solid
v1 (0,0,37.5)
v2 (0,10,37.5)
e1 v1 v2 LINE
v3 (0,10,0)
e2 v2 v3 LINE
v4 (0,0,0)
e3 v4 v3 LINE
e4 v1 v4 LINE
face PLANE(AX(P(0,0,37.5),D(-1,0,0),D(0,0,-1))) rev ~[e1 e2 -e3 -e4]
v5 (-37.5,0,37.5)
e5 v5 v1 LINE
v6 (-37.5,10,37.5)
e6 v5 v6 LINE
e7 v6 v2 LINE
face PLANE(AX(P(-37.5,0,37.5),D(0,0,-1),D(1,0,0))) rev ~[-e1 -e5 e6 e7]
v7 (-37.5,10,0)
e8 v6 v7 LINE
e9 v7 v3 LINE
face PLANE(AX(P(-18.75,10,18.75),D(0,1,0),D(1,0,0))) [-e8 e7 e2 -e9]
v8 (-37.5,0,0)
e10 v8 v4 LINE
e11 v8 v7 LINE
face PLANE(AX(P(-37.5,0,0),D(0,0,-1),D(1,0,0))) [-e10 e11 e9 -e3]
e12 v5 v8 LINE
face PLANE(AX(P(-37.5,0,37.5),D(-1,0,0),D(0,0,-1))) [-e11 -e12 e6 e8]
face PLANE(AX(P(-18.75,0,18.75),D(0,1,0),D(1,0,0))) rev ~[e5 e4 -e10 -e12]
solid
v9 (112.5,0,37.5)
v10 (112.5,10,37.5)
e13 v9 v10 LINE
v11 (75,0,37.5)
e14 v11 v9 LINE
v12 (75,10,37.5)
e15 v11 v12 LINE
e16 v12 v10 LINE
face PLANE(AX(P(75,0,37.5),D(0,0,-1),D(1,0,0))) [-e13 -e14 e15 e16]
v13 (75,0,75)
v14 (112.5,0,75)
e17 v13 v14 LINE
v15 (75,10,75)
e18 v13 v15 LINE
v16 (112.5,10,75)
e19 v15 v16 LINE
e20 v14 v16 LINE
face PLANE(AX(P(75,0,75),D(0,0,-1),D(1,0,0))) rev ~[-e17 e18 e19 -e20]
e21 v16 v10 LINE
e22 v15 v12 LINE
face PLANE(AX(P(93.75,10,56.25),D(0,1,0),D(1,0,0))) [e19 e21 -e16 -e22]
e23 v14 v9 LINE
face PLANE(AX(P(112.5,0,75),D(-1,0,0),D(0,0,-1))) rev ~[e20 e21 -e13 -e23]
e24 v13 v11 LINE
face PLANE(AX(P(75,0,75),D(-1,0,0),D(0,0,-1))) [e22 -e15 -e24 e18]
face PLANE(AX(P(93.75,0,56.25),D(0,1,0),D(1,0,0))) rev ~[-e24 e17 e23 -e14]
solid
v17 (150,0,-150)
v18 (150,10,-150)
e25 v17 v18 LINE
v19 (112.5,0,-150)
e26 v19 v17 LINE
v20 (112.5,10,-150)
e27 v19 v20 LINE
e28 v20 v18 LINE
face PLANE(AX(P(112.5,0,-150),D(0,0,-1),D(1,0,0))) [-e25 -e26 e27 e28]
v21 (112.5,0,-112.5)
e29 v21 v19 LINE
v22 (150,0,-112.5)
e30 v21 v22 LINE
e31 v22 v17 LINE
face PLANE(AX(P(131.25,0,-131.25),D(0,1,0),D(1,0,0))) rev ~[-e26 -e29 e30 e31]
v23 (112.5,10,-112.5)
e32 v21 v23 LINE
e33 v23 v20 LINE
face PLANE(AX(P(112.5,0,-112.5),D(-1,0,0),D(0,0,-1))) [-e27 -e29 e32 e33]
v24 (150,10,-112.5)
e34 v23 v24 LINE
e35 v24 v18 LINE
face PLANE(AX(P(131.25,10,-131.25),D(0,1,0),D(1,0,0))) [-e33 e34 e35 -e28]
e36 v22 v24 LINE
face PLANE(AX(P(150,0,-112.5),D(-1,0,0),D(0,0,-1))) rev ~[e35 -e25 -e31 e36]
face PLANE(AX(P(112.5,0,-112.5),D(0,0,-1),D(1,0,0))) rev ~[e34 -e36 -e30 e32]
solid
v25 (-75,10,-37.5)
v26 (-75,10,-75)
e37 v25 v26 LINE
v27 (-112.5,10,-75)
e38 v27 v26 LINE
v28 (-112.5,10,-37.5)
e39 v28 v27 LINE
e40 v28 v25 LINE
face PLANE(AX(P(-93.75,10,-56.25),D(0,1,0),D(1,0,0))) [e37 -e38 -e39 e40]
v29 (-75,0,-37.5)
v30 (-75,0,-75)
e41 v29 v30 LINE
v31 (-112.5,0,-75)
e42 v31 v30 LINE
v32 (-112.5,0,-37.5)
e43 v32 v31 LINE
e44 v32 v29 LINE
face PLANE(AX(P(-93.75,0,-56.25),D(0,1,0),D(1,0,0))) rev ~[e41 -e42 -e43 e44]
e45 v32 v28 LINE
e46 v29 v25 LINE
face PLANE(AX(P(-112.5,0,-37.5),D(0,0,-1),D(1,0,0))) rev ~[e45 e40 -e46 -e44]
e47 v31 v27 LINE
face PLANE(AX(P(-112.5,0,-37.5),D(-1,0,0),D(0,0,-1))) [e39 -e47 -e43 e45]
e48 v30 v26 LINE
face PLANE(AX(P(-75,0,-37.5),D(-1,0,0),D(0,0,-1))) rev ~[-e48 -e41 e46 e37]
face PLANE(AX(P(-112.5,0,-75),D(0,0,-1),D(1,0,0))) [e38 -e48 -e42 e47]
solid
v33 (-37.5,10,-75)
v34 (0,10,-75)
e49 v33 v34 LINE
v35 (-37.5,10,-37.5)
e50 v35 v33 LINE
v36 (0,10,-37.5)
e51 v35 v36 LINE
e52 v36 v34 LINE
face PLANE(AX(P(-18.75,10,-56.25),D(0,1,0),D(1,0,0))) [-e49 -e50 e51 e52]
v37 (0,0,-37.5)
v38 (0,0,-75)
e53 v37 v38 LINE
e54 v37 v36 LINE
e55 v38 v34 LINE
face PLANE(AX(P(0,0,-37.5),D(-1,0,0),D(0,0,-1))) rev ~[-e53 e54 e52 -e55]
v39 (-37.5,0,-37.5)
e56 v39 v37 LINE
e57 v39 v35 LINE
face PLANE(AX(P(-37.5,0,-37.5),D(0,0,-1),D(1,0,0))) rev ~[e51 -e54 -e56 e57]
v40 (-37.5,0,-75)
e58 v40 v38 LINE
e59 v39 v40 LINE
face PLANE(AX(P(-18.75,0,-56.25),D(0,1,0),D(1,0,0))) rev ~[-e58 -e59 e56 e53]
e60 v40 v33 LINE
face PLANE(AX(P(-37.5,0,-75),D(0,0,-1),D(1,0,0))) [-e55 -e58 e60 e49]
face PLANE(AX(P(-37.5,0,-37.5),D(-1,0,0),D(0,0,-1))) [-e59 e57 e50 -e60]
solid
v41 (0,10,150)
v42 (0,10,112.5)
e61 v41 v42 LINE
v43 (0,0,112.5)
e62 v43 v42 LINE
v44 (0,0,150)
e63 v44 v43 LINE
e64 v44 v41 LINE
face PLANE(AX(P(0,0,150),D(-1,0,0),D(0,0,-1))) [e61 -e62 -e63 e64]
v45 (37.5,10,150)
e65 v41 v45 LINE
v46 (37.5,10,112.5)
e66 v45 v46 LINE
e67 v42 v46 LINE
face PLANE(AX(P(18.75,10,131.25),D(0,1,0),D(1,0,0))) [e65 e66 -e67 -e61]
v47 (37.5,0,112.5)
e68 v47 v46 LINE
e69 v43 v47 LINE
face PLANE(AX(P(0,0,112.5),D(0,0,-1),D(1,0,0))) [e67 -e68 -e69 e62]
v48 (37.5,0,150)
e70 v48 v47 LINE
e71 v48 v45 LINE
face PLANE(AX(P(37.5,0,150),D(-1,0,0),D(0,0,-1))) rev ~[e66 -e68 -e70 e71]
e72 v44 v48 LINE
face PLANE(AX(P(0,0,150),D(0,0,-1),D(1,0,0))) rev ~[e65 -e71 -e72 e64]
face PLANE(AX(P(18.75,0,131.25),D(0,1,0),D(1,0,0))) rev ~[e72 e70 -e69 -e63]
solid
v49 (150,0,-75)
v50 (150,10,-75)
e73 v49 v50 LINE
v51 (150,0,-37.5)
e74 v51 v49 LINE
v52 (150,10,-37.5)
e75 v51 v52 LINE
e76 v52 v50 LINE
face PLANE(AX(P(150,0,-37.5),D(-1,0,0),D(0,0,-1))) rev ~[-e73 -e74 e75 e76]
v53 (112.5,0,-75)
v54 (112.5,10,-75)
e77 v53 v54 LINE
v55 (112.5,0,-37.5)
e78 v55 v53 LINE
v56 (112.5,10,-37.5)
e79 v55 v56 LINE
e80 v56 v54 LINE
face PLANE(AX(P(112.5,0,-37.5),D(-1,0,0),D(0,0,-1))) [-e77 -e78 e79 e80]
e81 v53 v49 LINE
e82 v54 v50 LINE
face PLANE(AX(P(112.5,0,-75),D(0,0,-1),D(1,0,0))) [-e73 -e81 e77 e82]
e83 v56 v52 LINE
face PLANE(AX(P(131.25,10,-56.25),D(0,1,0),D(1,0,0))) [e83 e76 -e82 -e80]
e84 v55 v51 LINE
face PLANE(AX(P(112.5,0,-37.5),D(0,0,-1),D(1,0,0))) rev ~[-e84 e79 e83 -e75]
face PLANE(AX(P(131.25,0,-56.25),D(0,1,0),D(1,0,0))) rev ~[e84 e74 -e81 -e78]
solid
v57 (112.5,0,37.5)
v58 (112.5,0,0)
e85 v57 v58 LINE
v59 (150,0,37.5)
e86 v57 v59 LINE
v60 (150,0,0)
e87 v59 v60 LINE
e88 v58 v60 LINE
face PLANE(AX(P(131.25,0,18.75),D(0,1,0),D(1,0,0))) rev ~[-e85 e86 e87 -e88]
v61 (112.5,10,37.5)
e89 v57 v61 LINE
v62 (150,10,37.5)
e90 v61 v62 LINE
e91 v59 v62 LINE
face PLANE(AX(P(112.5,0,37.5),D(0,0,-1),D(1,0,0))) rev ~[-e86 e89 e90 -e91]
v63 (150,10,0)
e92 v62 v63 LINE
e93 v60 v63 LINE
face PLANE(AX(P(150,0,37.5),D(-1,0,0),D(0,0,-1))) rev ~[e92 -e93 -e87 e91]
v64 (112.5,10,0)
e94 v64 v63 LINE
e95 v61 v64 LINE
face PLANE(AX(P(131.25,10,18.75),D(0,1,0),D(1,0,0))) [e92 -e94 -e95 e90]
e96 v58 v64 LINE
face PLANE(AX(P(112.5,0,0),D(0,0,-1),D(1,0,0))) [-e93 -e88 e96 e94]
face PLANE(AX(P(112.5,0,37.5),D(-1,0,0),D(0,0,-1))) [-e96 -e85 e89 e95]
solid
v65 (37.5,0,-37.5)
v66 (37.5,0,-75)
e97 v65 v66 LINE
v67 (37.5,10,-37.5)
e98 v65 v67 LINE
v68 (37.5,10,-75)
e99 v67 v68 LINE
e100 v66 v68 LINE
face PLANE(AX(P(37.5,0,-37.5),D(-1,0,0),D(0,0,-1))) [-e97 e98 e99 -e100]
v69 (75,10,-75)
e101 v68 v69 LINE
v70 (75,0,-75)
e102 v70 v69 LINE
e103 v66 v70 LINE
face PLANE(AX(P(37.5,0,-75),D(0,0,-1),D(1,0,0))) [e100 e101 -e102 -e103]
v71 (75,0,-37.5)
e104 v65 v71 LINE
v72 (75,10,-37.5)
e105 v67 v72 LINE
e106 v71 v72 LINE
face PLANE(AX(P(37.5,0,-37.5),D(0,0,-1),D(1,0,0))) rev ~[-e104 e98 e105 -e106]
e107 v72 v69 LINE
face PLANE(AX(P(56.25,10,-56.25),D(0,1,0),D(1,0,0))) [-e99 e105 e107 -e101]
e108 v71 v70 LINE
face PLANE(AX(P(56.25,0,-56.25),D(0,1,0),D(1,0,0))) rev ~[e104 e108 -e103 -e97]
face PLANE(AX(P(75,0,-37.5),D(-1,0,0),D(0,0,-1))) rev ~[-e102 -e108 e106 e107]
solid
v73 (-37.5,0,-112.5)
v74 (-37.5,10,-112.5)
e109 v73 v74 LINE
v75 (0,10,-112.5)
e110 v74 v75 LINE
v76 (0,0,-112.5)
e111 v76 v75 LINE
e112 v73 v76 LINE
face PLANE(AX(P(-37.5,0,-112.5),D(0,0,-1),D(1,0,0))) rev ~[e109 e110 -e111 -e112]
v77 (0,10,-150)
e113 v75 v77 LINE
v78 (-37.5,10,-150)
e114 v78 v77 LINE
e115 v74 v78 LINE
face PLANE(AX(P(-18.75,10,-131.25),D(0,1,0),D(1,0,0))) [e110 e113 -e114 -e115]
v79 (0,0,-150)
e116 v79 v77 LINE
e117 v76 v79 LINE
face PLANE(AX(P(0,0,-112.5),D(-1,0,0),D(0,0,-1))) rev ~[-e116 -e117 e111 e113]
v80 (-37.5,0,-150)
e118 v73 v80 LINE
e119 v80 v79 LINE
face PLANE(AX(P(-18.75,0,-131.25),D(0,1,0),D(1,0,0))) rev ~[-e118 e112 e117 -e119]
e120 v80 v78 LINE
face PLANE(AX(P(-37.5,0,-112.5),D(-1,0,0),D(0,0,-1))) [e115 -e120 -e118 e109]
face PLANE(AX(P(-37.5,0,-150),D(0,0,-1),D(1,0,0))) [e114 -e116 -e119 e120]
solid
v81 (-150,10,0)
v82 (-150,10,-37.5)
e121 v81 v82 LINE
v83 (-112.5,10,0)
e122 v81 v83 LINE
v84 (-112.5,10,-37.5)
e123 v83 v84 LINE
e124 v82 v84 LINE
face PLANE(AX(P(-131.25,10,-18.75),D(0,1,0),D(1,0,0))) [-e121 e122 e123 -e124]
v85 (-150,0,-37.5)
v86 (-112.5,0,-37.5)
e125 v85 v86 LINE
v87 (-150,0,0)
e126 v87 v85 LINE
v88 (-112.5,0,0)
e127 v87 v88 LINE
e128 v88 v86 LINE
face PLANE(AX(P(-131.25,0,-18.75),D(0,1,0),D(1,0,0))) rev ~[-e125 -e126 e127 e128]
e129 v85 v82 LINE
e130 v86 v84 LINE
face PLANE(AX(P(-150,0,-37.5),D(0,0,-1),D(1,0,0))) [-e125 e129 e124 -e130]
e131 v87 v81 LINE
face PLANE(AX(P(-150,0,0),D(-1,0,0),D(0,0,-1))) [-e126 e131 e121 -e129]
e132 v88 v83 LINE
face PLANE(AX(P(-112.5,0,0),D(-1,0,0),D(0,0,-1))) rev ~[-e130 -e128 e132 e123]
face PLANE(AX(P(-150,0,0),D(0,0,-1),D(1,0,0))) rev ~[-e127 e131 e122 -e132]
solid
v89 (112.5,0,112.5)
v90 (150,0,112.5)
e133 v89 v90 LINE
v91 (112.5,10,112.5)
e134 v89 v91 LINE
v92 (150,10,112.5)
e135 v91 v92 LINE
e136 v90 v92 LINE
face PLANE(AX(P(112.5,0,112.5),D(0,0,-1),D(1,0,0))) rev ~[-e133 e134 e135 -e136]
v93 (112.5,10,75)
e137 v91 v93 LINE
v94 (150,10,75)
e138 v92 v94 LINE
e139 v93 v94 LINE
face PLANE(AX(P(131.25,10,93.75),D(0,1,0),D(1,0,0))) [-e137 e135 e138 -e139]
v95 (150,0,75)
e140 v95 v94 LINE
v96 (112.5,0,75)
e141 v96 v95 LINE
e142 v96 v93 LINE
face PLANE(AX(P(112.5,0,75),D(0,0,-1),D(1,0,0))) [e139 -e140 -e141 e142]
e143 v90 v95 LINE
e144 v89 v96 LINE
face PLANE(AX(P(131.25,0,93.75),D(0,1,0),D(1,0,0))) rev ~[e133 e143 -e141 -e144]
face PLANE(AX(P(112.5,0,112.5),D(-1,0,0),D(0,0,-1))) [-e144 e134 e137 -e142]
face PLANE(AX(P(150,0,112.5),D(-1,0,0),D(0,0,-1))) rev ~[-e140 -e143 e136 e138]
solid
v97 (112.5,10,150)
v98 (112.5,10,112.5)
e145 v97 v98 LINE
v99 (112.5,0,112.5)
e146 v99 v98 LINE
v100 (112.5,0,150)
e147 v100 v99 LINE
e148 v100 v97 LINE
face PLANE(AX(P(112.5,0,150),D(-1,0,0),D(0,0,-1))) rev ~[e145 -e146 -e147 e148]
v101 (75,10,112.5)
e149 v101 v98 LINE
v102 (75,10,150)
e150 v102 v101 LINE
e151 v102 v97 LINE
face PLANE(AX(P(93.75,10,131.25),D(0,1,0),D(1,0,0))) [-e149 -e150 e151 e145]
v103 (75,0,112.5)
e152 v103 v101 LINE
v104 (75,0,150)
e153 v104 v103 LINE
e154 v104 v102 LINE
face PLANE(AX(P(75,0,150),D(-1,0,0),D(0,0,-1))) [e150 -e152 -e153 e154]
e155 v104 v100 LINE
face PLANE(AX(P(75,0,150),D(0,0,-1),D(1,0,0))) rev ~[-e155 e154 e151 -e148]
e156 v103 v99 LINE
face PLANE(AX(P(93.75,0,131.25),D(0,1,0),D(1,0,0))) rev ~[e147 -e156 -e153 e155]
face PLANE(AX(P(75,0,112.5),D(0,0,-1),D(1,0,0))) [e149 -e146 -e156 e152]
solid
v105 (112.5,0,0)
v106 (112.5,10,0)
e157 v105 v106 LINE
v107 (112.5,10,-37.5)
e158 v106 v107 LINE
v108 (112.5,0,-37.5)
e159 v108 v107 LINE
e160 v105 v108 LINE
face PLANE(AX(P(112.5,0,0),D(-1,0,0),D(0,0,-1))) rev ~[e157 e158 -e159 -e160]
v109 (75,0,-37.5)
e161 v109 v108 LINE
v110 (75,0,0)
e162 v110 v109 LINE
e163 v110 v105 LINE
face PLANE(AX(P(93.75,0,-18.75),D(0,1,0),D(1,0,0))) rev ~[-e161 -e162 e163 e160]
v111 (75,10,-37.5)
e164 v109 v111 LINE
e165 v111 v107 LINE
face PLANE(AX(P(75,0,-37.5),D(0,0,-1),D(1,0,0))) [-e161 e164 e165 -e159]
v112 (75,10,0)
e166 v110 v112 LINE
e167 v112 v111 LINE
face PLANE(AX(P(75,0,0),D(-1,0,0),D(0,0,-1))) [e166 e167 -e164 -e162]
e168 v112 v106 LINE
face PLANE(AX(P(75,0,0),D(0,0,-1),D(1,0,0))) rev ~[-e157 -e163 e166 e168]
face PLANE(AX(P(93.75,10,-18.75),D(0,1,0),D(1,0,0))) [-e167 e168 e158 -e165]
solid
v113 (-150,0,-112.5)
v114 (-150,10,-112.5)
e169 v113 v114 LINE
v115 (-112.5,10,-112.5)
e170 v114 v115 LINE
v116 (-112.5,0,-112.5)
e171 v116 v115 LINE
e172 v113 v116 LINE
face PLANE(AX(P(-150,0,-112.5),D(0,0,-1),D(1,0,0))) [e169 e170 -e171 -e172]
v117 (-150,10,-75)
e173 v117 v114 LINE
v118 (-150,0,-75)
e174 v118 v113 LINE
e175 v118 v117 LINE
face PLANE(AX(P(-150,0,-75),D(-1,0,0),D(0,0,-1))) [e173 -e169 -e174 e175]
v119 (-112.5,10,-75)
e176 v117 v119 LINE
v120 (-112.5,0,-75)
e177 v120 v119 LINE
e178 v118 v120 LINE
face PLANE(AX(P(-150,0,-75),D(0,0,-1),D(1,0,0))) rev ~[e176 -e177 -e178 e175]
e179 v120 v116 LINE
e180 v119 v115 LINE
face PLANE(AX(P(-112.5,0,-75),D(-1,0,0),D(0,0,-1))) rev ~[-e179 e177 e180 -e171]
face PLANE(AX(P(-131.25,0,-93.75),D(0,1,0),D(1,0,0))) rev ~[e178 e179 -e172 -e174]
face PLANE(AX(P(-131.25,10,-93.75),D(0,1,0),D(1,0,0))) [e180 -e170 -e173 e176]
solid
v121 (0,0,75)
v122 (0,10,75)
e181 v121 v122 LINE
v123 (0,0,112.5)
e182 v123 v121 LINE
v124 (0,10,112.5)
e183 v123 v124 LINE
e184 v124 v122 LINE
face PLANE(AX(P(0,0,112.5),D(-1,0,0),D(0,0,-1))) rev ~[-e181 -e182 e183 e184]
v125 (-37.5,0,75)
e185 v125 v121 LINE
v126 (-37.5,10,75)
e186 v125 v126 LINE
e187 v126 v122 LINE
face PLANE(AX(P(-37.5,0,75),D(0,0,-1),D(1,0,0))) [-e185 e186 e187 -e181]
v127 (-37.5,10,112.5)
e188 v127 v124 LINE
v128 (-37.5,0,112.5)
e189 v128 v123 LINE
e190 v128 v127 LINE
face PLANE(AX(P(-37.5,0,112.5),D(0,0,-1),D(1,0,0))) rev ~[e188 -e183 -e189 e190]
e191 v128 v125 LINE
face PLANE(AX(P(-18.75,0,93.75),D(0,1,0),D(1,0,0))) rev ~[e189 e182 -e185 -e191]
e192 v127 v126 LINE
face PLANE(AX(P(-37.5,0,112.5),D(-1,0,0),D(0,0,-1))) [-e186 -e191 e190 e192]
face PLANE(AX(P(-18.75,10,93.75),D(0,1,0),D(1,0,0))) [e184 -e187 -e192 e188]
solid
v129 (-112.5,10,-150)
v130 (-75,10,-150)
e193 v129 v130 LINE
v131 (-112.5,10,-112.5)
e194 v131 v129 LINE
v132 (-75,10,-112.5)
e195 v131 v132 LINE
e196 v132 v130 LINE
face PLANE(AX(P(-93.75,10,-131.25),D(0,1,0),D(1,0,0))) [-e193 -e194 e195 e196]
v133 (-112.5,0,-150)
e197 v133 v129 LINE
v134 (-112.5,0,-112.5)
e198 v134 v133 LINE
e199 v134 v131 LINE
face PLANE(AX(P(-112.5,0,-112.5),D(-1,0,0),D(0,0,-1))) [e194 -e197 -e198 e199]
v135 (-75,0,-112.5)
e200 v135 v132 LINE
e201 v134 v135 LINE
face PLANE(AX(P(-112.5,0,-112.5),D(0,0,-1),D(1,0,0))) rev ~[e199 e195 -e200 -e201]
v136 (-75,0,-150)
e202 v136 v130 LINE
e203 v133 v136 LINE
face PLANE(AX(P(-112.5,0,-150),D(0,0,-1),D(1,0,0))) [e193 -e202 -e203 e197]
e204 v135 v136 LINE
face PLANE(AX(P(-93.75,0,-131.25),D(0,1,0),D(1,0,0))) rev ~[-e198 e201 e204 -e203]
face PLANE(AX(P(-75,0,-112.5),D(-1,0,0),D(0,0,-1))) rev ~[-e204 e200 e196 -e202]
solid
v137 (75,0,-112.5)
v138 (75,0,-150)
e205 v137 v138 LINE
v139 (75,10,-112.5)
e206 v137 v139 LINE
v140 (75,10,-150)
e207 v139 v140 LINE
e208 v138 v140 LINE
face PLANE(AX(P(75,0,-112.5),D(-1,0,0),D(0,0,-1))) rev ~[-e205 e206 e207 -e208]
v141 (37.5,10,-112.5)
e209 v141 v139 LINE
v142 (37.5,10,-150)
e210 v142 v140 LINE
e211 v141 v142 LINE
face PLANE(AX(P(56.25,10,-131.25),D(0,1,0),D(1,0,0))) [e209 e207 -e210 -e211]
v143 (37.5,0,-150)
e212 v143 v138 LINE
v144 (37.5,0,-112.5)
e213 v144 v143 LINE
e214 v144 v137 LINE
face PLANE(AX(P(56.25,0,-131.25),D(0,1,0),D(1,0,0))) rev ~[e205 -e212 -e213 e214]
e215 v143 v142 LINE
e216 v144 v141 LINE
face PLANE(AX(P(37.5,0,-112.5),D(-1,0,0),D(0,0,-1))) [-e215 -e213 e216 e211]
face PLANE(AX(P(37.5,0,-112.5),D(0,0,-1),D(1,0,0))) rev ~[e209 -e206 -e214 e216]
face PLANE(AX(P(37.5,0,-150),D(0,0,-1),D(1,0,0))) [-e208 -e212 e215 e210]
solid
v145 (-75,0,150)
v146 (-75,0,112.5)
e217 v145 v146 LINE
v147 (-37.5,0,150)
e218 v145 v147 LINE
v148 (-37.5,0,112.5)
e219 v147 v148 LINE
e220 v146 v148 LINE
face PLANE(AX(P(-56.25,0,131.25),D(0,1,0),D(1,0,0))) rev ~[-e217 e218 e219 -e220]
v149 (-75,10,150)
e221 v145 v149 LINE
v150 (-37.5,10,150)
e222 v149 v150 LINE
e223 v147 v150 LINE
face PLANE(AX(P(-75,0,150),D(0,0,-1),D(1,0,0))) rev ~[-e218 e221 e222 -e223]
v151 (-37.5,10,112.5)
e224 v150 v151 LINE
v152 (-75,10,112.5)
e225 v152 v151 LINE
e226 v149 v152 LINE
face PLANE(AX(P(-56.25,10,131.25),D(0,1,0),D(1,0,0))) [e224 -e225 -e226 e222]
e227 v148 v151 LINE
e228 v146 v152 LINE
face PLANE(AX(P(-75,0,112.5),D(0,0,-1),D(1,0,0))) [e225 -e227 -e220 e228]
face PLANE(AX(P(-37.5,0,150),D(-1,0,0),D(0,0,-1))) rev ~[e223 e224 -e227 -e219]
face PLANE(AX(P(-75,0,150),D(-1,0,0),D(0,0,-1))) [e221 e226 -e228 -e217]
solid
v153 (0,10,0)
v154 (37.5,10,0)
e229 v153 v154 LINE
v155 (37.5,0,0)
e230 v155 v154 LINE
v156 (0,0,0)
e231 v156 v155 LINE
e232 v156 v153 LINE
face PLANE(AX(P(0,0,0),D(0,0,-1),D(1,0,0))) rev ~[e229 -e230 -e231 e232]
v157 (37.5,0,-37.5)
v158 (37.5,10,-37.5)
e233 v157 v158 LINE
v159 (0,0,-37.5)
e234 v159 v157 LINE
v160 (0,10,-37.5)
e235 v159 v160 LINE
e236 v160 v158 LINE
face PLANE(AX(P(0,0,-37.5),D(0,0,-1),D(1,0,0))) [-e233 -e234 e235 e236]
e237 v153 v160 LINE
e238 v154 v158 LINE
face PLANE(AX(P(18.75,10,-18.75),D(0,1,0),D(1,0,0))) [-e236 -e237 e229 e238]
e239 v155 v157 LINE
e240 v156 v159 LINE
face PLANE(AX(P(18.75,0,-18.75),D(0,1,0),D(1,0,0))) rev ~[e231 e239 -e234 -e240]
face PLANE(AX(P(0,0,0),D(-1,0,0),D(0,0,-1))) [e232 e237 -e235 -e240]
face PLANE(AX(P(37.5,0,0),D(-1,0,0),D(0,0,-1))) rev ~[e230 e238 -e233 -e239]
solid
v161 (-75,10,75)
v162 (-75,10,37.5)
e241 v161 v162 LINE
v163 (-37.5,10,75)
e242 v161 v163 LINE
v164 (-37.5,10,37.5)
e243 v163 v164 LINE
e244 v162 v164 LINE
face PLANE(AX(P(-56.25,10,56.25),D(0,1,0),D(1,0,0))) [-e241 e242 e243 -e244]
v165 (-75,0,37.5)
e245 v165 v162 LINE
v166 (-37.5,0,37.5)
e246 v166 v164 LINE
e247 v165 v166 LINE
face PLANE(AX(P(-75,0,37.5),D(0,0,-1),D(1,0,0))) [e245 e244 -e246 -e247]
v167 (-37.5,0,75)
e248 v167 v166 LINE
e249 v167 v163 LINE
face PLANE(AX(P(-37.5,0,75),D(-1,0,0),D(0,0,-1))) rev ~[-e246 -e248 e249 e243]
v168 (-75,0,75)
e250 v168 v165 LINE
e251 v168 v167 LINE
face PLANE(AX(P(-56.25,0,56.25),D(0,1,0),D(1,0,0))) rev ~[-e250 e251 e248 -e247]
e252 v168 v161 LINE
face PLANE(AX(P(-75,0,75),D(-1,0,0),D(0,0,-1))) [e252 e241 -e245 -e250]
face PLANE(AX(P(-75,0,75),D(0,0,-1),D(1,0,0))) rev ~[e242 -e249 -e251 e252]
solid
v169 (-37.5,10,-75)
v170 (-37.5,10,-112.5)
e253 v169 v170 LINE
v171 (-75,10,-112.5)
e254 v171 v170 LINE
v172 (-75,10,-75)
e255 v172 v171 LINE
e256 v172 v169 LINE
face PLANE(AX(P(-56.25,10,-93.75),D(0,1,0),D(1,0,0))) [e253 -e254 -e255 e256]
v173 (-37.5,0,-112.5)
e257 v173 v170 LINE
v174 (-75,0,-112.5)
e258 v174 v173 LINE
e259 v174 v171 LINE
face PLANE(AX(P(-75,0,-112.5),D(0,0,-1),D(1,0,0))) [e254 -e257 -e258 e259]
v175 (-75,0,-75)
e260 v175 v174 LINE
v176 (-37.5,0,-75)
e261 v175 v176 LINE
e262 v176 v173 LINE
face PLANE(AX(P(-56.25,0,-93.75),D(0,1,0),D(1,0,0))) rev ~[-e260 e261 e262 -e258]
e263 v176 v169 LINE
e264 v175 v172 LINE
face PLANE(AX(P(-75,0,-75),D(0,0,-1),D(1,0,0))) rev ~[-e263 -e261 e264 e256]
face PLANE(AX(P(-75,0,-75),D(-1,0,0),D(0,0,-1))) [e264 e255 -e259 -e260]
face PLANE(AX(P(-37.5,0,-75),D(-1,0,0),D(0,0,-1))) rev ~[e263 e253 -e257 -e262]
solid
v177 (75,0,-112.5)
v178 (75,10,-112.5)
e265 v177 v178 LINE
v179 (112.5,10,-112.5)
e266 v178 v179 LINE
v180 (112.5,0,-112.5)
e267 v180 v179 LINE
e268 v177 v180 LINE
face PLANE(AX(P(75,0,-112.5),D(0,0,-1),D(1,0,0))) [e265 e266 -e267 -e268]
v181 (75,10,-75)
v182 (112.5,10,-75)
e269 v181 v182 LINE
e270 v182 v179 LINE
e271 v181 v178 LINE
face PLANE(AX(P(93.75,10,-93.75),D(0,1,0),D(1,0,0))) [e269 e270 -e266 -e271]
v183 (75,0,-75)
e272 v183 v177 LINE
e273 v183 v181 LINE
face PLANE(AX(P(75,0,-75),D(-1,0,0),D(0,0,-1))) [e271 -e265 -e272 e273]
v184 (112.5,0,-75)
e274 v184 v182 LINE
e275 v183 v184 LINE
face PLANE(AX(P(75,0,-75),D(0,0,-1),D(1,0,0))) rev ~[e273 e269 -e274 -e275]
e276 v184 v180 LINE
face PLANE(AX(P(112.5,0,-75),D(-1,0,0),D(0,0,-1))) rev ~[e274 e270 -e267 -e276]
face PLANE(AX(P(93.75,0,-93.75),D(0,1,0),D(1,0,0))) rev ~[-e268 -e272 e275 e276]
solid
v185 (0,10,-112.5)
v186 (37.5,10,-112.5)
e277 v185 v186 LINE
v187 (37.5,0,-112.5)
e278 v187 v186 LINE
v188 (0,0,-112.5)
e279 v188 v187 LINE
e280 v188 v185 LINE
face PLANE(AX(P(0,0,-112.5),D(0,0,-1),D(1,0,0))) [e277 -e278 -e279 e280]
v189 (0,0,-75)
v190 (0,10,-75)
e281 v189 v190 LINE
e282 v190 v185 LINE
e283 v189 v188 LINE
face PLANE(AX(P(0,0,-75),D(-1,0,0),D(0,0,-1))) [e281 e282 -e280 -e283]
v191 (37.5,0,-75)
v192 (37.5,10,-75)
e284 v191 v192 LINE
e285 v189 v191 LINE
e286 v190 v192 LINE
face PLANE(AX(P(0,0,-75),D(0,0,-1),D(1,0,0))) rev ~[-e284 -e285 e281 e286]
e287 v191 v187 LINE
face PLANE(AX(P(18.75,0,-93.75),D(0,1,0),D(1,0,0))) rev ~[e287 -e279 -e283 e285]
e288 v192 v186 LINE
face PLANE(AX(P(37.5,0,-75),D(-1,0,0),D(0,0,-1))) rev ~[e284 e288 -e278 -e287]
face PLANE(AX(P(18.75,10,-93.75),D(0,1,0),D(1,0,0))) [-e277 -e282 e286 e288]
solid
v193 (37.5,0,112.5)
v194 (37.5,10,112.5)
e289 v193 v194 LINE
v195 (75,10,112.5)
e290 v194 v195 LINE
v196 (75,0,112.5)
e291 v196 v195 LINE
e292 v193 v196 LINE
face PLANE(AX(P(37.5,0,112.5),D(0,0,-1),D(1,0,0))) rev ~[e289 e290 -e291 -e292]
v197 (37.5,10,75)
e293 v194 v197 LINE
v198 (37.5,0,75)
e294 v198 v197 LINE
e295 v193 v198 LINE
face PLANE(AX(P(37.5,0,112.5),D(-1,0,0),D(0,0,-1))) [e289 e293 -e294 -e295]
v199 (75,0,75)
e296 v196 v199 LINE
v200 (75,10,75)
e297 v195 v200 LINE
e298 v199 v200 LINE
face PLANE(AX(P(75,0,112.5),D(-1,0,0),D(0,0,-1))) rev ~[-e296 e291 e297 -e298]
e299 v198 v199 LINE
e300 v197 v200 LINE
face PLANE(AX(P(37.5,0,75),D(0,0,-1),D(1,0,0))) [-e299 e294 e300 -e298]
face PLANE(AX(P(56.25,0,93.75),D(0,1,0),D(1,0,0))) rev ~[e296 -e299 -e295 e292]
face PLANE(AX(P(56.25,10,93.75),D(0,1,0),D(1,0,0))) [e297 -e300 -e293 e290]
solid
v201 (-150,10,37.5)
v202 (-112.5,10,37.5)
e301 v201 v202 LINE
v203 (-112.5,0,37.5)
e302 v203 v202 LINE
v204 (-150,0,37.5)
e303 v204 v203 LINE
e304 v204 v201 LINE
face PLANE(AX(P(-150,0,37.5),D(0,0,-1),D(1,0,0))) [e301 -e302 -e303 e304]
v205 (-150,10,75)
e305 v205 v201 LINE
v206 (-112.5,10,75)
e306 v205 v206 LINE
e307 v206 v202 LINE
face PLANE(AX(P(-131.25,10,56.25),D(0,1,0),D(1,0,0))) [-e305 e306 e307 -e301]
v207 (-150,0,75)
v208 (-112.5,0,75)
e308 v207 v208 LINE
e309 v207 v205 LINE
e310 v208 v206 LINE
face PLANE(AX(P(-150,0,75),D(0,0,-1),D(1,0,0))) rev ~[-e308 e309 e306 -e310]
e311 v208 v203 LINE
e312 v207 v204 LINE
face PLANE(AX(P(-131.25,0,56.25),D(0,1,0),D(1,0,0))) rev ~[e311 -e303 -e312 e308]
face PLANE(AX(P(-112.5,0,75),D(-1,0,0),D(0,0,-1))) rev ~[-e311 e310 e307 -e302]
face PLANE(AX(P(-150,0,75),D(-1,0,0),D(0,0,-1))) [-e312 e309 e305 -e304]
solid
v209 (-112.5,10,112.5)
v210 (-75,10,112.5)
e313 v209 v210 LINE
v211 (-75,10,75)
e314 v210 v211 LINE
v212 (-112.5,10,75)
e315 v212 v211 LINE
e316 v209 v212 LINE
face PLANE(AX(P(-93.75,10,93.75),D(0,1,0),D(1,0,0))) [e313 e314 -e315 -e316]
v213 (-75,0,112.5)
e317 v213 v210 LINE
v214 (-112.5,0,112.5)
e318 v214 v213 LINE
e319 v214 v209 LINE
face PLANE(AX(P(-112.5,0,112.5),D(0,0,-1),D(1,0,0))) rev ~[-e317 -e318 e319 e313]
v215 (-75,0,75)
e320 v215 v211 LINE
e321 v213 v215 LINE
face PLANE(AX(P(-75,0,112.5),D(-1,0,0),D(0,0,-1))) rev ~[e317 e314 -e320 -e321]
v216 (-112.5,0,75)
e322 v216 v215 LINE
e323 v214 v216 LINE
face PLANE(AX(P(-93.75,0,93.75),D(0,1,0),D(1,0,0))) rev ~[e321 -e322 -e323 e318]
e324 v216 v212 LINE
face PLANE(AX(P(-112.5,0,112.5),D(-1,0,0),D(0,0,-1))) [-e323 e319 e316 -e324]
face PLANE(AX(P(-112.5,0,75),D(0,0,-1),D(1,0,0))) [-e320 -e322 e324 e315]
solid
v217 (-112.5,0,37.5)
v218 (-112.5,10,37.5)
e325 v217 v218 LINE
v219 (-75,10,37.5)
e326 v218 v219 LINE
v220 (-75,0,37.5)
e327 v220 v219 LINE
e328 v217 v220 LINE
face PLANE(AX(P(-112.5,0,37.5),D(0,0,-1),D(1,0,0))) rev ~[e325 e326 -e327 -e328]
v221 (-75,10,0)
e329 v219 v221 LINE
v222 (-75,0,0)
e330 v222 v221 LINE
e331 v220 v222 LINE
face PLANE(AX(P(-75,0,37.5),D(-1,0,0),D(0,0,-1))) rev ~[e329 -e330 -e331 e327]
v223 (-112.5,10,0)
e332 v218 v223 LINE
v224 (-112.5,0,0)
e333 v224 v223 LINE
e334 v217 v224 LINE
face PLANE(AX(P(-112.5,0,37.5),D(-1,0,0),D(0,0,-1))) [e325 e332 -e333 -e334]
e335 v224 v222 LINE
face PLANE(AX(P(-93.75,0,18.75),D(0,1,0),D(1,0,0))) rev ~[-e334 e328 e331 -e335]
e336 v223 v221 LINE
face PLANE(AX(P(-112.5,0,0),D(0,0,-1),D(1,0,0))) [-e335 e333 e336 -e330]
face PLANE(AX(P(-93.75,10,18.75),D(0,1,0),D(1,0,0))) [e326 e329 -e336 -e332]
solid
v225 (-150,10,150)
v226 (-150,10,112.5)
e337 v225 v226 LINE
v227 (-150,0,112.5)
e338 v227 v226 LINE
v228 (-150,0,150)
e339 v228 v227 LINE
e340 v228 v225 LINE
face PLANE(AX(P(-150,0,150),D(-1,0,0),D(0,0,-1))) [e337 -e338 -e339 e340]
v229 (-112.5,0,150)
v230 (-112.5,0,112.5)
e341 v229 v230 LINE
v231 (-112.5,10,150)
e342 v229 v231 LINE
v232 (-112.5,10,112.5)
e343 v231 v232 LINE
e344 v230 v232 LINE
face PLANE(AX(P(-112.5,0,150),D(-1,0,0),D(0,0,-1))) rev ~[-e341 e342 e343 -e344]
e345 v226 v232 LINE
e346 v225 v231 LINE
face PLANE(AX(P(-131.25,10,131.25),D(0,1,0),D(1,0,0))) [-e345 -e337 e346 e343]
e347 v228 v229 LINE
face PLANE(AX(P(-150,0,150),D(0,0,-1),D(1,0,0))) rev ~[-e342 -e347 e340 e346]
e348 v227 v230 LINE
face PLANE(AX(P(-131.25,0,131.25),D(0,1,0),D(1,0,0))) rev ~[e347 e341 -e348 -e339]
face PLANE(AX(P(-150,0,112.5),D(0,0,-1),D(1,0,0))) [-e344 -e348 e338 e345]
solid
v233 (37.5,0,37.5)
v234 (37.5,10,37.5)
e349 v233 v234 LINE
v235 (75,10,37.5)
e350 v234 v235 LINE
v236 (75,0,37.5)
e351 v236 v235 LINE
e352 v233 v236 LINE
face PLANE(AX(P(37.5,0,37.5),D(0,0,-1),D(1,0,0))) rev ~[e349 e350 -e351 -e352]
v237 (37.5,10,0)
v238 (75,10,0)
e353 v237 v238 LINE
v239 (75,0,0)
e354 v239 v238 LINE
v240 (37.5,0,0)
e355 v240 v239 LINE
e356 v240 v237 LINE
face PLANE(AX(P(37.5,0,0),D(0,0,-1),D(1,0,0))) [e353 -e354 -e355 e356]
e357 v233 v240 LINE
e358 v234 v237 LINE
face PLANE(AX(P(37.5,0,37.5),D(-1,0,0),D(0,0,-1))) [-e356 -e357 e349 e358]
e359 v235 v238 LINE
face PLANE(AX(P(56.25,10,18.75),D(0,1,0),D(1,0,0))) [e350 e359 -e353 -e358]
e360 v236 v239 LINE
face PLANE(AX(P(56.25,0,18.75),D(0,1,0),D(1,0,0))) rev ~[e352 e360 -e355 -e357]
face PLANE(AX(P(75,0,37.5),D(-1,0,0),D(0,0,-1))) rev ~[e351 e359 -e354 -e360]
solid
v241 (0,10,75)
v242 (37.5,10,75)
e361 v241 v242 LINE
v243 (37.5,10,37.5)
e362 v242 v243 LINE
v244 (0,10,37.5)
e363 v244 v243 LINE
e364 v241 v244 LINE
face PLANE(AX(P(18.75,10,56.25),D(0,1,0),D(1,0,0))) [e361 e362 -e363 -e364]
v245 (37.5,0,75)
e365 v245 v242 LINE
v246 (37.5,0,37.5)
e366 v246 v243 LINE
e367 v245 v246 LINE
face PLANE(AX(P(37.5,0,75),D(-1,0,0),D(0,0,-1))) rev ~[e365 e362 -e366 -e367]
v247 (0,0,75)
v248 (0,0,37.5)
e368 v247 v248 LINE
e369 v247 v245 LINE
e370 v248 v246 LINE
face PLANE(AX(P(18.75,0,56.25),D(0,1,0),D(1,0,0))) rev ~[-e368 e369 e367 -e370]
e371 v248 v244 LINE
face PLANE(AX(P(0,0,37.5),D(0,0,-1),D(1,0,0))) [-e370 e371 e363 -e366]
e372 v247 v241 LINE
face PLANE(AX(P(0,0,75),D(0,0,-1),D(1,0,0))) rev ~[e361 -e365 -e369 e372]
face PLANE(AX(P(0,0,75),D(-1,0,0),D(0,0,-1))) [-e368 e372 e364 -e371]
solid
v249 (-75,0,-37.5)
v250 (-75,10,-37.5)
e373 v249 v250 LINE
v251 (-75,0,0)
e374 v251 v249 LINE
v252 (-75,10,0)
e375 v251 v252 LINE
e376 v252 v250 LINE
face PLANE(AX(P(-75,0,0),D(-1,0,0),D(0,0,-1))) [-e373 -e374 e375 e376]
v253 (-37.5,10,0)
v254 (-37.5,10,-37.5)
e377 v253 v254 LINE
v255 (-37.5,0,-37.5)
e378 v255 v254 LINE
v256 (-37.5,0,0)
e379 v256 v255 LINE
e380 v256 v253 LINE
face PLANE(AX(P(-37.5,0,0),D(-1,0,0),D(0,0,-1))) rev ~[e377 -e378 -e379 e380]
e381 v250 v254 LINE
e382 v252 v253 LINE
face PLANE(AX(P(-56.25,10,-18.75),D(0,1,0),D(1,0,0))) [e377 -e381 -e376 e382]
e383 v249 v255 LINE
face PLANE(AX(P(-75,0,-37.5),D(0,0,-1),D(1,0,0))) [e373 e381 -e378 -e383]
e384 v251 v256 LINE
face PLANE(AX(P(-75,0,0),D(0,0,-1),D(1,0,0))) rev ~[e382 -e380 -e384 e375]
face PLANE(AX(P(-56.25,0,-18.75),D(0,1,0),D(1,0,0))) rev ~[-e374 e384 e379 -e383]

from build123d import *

# Parameters (mm, degrees)
SKETCH1_W              = 37.5
SKETCH1_H              = 37.5
BOSS_EXTRUDE1_DEPTH    = 10
BOSS_EXTRUDE1_2_DEPTH  = 10
BOSS_EXTRUDE1_3_DEPTH  = 10
BOSS_EXTRUDE1_4_DEPTH  = 10
BOSS_EXTRUDE1_5_DEPTH  = 10
BOSS_EXTRUDE1_6_DEPTH  = 10
BOSS_EXTRUDE1_7_DEPTH  = 10
BOSS_EXTRUDE1_8_DEPTH  = 10
BOSS_EXTRUDE1_9_DEPTH  = 10
BOSS_EXTRUDE1_10_DEPTH = 10
BOSS_EXTRUDE1_11_DEPTH = 10
BOSS_EXTRUDE1_12_DEPTH = 10
BOSS_EXTRUDE1_13_DEPTH = 10
BOSS_EXTRUDE1_14_DEPTH = 10
BOSS_EXTRUDE1_15_DEPTH = 10
BOSS_EXTRUDE1_16_DEPTH = 10
BOSS_EXTRUDE1_17_DEPTH = 10
BOSS_EXTRUDE1_18_DEPTH = 10
BOSS_EXTRUDE1_19_DEPTH = 10
BOSS_EXTRUDE1_20_DEPTH = 10
BOSS_EXTRUDE1_21_DEPTH = 10
BOSS_EXTRUDE1_22_DEPTH = 10
BOSS_EXTRUDE1_23_DEPTH = 10
BOSS_EXTRUDE1_24_DEPTH = 10
BOSS_EXTRUDE1_25_DEPTH = 10
BOSS_EXTRUDE1_26_DEPTH = 10
BOSS_EXTRUDE1_27_DEPTH = 10
BOSS_EXTRUDE1_28_DEPTH = 10
BOSS_EXTRUDE1_29_DEPTH = 10
BOSS_EXTRUDE1_30_DEPTH = 10
BOSS_EXTRUDE1_31_DEPTH = 10
BOSS_EXTRUDE1_32_DEPTH = 10


with BuildPart() as part:
    # Sketch1 → Boss-Extrude1 (new body)
    with BuildSketch(Plane(origin=(0, 0, 0), x_dir=(1, 0, 0), z_dir=(0, 1, 0))):
        with Locations((-131.25, -131.25)):
            Rectangle(SKETCH1_W, SKETCH1_H)
    extrude(amount=BOSS_EXTRUDE1_DEPTH)


with BuildPart() as body_2:
    # Sketch1 → Boss-Extrude1 2 (new body)
    with BuildSketch(Plane(origin=(0, 0, 0), x_dir=(1, 0, 0), z_dir=(0, 1, 0))):
        with Locations((-56.25, -131.25)):
            Rectangle(SKETCH1_W, SKETCH1_H)
    extrude(amount=BOSS_EXTRUDE1_2_DEPTH)


with BuildPart() as body_3:
    # Sketch1 → Boss-Extrude1 3 (new body)
    with BuildSketch(Plane(origin=(0, 0, 0), x_dir=(1, 0, 0), z_dir=(0, 1, 0))):
        with Locations((18.75, -131.25)):
            Rectangle(SKETCH1_W, SKETCH1_H)
    extrude(amount=BOSS_EXTRUDE1_3_DEPTH)


with BuildPart() as body_4:
    # Sketch1 → Boss-Extrude1 4 (new body)
    with BuildSketch(Plane(origin=(0, 0, 0), x_dir=(1, 0, 0), z_dir=(0, 1, 0))):
        with Locations((93.75, -131.25)):
            Rectangle(SKETCH1_W, SKETCH1_H)
    extrude(amount=BOSS_EXTRUDE1_4_DEPTH)


with BuildPart() as body_5:
    # Sketch1 → Boss-Extrude1 5 (new body)
    with BuildSketch(Plane(origin=(0, 0, 0), x_dir=(1, 0, 0), z_dir=(0, 1, 0))):
        with Locations((131.25, -93.75)):
            Rectangle(SKETCH1_W, SKETCH1_H)
    extrude(amount=BOSS_EXTRUDE1_5_DEPTH)


with BuildPart() as body_6:
    # Sketch1 → Boss-Extrude1 6 (new body)
    with BuildSketch(Plane(origin=(0, 0, 0), x_dir=(1, 0, 0), z_dir=(0, 1, 0))):
        with Locations((131.25, -18.75)):
            Rectangle(SKETCH1_W, SKETCH1_H)
    extrude(amount=BOSS_EXTRUDE1_6_DEPTH)


with BuildPart() as body_7:
    # Sketch1 → Boss-Extrude1 7 (new body)
    with BuildSketch(Plane(origin=(0, 0, 0), x_dir=(1, 0, 0), z_dir=(0, 1, 0))):
        with Locations((131.25, 56.25)):
            Rectangle(SKETCH1_W, SKETCH1_H)
    extrude(amount=BOSS_EXTRUDE1_7_DEPTH)


with BuildPart() as body_8:
    # Sketch1 → Boss-Extrude1 8 (new body)
    with BuildSketch(Plane(origin=(0, 0, 0), x_dir=(1, 0, 0), z_dir=(0, 1, 0))):
        with Locations((131.25, 131.25)):
            Rectangle(SKETCH1_W, SKETCH1_H)
    extrude(amount=BOSS_EXTRUDE1_8_DEPTH)


with BuildPart() as body_9:
    # Sketch1 → Boss-Extrude1 9 (new body)
    with BuildSketch(Plane(origin=(0, 0, 0), x_dir=(1, 0, 0), z_dir=(0, 1, 0))):
        with Locations((93.75, 93.75)):
            Rectangle(SKETCH1_W, SKETCH1_H)
    extrude(amount=BOSS_EXTRUDE1_9_DEPTH)


with BuildPart() as body_10:
    # Sketch1 → Boss-Extrude1 10 (new body)
    with BuildSketch(Plane(origin=(0, 0, 0), x_dir=(1, 0, 0), z_dir=(0, 1, 0))):
        with Locations((93.75, 18.75)):
            Rectangle(SKETCH1_W, SKETCH1_H)
    extrude(amount=BOSS_EXTRUDE1_10_DEPTH)


with BuildPart() as body_11:
    # Sketch1 → Boss-Extrude1 11 (new body)
    with BuildSketch(Plane(origin=(0, 0, 0), x_dir=(1, 0, 0), z_dir=(0, 1, 0))):
        with Locations((93.75, -56.25)):
            Rectangle(SKETCH1_W, SKETCH1_H)
    extrude(amount=BOSS_EXTRUDE1_11_DEPTH)


with BuildPart() as body_12:
    # Sketch1 → Boss-Extrude1 12 (new body)
    with BuildSketch(Plane(origin=(0, 0, 0), x_dir=(1, 0, 0), z_dir=(0, 1, 0))):
        with Locations((56.25, -93.75)):
            Rectangle(SKETCH1_W, SKETCH1_H)
    extrude(amount=BOSS_EXTRUDE1_12_DEPTH)


with BuildPart() as body_13:
    # Sketch1 → Boss-Extrude1 13 (new body)
    with BuildSketch(Plane(origin=(0, 0, 0), x_dir=(1, 0, 0), z_dir=(0, 1, 0))):
        with Locations((56.25, -18.75)):
            Rectangle(SKETCH1_W, SKETCH1_H)
    extrude(amount=BOSS_EXTRUDE1_13_DEPTH)


with BuildPart() as body_14:
    # Sketch1 → Boss-Extrude1 14 (new body)
    with BuildSketch(Plane(origin=(0, 0, 0), x_dir=(1, 0, 0), z_dir=(0, 1, 0))):
        with Locations((56.25, 56.25)):
            Rectangle(SKETCH1_W, SKETCH1_H)
    extrude(amount=BOSS_EXTRUDE1_14_DEPTH)


with BuildPart() as body_15:
    # Sketch1 → Boss-Extrude1 15 (new body)
    with BuildSketch(Plane(origin=(0, 0, 0), x_dir=(1, 0, 0), z_dir=(0, 1, 0))):
        with Locations((56.25, 131.25)):
            Rectangle(SKETCH1_W, SKETCH1_H)
    extrude(amount=BOSS_EXTRUDE1_15_DEPTH)


with BuildPart() as body_16:
    # Sketch1 → Boss-Extrude1 16 (new body)
    with BuildSketch(Plane(origin=(0, 0, 0), x_dir=(1, 0, 0), z_dir=(0, 1, 0))):
        with Locations((18.75, 93.75)):
            Rectangle(SKETCH1_W, SKETCH1_H)
    extrude(amount=BOSS_EXTRUDE1_16_DEPTH)


with BuildPart() as body_17:
    # Sketch1 → Boss-Extrude1 17 (new body)
    with BuildSketch(Plane(origin=(0, 0, 0), x_dir=(1, 0, 0), z_dir=(0, 1, 0))):
        with Locations((18.75, 18.75)):
            Rectangle(SKETCH1_W, SKETCH1_H)
    extrude(amount=BOSS_EXTRUDE1_17_DEPTH)


with BuildPart() as body_18:
    # Sketch1 → Boss-Extrude1 18 (new body)
    with BuildSketch(Plane(origin=(0, 0, 0), x_dir=(1, 0, 0), z_dir=(0, 1, 0))):
        with Locations((18.75, -56.25)):
            Rectangle(SKETCH1_W, SKETCH1_H)
    extrude(amount=BOSS_EXTRUDE1_18_DEPTH)


with BuildPart() as body_19:
    # Sketch1 → Boss-Extrude1 19 (new body)
    with BuildSketch(Plane(origin=(0, 0, 0), x_dir=(1, 0, 0), z_dir=(0, 1, 0))):
        with Locations((-18.75, -93.75)):
            Rectangle(SKETCH1_W, SKETCH1_H)
    extrude(amount=BOSS_EXTRUDE1_19_DEPTH)


with BuildPart() as body_20:
    # Sketch1 → Boss-Extrude1 20 (new body)
    with BuildSketch(Plane(origin=(0, 0, 0), x_dir=(1, 0, 0), z_dir=(0, 1, 0))):
        with Locations((-18.75, -18.75)):
            Rectangle(SKETCH1_W, SKETCH1_H)
    extrude(amount=BOSS_EXTRUDE1_20_DEPTH)


with BuildPart() as body_21:
    # Sketch1 → Boss-Extrude1 21 (new body)
    with BuildSketch(Plane(origin=(0, 0, 0), x_dir=(1, 0, 0), z_dir=(0, 1, 0))):
        with Locations((-18.75, 56.25)):
            Rectangle(SKETCH1_W, SKETCH1_H)
    extrude(amount=BOSS_EXTRUDE1_21_DEPTH)


with BuildPart() as body_22:
    # Sketch1 → Boss-Extrude1 22 (new body)
    with BuildSketch(Plane(origin=(0, 0, 0), x_dir=(1, 0, 0), z_dir=(0, 1, 0))):
        with Locations((-18.75, 131.25)):
            Rectangle(SKETCH1_W, SKETCH1_H)
    extrude(amount=BOSS_EXTRUDE1_22_DEPTH)


with BuildPart() as body_23:
    # Sketch1 → Boss-Extrude1 23 (new body)
    with BuildSketch(Plane(origin=(0, 0, 0), x_dir=(1, 0, 0), z_dir=(0, 1, 0))):
        with Locations((-93.75, 131.25)):
            Rectangle(SKETCH1_W, SKETCH1_H)
    extrude(amount=BOSS_EXTRUDE1_23_DEPTH)


with BuildPart() as body_24:
    # Sketch1 → Boss-Extrude1 24 (new body)
    with BuildSketch(Plane(origin=(0, 0, 0), x_dir=(1, 0, 0), z_dir=(0, 1, 0))):
        with Locations((-131.25, 93.75)):
            Rectangle(SKETCH1_W, SKETCH1_H)
    extrude(amount=BOSS_EXTRUDE1_24_DEPTH)


with BuildPart() as body_25:
    # Sketch1 → Boss-Extrude1 25 (new body)
    with BuildSketch(Plane(origin=(0, 0, 0), x_dir=(1, 0, 0), z_dir=(0, 1, 0))):
        with Locations((-56.25, 93.75)):
            Rectangle(SKETCH1_W, SKETCH1_H)
    extrude(amount=BOSS_EXTRUDE1_25_DEPTH)


with BuildPart() as body_26:
    # Sketch1 → Boss-Extrude1 26 (new body)
    with BuildSketch(Plane(origin=(0, 0, 0), x_dir=(1, 0, 0), z_dir=(0, 1, 0))):
        with Locations((-93.75, 56.25)):
            Rectangle(SKETCH1_W, SKETCH1_H)
    extrude(amount=BOSS_EXTRUDE1_26_DEPTH)


with BuildPart() as body_27:
    # Sketch1 → Boss-Extrude1 27 (new body)
    with BuildSketch(Plane(origin=(0, 0, 0), x_dir=(1, 0, 0), z_dir=(0, 1, 0))):
        with Locations((-56.25, 18.75)):
            Rectangle(SKETCH1_W, SKETCH1_H)
    extrude(amount=BOSS_EXTRUDE1_27_DEPTH)


with BuildPart() as body_28:
    # Sketch1 → Boss-Extrude1 28 (new body)
    with BuildSketch(Plane(origin=(0, 0, 0), x_dir=(1, 0, 0), z_dir=(0, 1, 0))):
        with Locations((-131.25, 18.75)):
            Rectangle(SKETCH1_W, SKETCH1_H)
    extrude(amount=BOSS_EXTRUDE1_28_DEPTH)


with BuildPart() as body_29:
    # Sketch1 → Boss-Extrude1 29 (new body)
    with BuildSketch(Plane(origin=(0, 0, 0), x_dir=(1, 0, 0), z_dir=(0, 1, 0))):
        with Locations((-93.75, -18.75)):
            Rectangle(SKETCH1_W, SKETCH1_H)
    extrude(amount=BOSS_EXTRUDE1_29_DEPTH)


with BuildPart() as body_30:
    # Sketch1 → Boss-Extrude1 30 (new body)
    with BuildSketch(Plane(origin=(0, 0, 0), x_dir=(1, 0, 0), z_dir=(0, 1, 0))):
        with Locations((-131.25, -56.25)):
            Rectangle(SKETCH1_W, SKETCH1_H)
    extrude(amount=BOSS_EXTRUDE1_30_DEPTH)


with BuildPart() as body_31:
    # Sketch1 → Boss-Extrude1 31 (new body)
    with BuildSketch(Plane(origin=(0, 0, 0), x_dir=(1, 0, 0), z_dir=(0, 1, 0))):
        with Locations((-56.25, -56.25)):
            Rectangle(SKETCH1_W, SKETCH1_H)
    extrude(amount=BOSS_EXTRUDE1_31_DEPTH)


with BuildPart() as body_32:
    # Sketch1 → Boss-Extrude1 32 (new body)
    with BuildSketch(Plane(origin=(0, 0, 0), x_dir=(1, 0, 0), z_dir=(0, 1, 0))):
        with Locations((-93.75, -93.75)):
            Rectangle(SKETCH1_W, SKETCH1_H)
    extrude(amount=BOSS_EXTRUDE1_32_DEPTH)


solid = Compound([part.part, body_2.part, body_3.part, body_4.part, body_5.part, body_6.part, body_7.part, body_8.part, body_9.part, body_10.part, body_11.part, body_12.part, body_13.part, body_14.part, body_15.part, body_16.part, body_17.part, body_18.part, body_19.part, body_20.part, body_21.part, body_22.part, body_23.part, body_24.part, body_25.part, body_26.part, body_27.part, body_28.part, body_29.part, body_30.part, body_31.part, body_32.part])
